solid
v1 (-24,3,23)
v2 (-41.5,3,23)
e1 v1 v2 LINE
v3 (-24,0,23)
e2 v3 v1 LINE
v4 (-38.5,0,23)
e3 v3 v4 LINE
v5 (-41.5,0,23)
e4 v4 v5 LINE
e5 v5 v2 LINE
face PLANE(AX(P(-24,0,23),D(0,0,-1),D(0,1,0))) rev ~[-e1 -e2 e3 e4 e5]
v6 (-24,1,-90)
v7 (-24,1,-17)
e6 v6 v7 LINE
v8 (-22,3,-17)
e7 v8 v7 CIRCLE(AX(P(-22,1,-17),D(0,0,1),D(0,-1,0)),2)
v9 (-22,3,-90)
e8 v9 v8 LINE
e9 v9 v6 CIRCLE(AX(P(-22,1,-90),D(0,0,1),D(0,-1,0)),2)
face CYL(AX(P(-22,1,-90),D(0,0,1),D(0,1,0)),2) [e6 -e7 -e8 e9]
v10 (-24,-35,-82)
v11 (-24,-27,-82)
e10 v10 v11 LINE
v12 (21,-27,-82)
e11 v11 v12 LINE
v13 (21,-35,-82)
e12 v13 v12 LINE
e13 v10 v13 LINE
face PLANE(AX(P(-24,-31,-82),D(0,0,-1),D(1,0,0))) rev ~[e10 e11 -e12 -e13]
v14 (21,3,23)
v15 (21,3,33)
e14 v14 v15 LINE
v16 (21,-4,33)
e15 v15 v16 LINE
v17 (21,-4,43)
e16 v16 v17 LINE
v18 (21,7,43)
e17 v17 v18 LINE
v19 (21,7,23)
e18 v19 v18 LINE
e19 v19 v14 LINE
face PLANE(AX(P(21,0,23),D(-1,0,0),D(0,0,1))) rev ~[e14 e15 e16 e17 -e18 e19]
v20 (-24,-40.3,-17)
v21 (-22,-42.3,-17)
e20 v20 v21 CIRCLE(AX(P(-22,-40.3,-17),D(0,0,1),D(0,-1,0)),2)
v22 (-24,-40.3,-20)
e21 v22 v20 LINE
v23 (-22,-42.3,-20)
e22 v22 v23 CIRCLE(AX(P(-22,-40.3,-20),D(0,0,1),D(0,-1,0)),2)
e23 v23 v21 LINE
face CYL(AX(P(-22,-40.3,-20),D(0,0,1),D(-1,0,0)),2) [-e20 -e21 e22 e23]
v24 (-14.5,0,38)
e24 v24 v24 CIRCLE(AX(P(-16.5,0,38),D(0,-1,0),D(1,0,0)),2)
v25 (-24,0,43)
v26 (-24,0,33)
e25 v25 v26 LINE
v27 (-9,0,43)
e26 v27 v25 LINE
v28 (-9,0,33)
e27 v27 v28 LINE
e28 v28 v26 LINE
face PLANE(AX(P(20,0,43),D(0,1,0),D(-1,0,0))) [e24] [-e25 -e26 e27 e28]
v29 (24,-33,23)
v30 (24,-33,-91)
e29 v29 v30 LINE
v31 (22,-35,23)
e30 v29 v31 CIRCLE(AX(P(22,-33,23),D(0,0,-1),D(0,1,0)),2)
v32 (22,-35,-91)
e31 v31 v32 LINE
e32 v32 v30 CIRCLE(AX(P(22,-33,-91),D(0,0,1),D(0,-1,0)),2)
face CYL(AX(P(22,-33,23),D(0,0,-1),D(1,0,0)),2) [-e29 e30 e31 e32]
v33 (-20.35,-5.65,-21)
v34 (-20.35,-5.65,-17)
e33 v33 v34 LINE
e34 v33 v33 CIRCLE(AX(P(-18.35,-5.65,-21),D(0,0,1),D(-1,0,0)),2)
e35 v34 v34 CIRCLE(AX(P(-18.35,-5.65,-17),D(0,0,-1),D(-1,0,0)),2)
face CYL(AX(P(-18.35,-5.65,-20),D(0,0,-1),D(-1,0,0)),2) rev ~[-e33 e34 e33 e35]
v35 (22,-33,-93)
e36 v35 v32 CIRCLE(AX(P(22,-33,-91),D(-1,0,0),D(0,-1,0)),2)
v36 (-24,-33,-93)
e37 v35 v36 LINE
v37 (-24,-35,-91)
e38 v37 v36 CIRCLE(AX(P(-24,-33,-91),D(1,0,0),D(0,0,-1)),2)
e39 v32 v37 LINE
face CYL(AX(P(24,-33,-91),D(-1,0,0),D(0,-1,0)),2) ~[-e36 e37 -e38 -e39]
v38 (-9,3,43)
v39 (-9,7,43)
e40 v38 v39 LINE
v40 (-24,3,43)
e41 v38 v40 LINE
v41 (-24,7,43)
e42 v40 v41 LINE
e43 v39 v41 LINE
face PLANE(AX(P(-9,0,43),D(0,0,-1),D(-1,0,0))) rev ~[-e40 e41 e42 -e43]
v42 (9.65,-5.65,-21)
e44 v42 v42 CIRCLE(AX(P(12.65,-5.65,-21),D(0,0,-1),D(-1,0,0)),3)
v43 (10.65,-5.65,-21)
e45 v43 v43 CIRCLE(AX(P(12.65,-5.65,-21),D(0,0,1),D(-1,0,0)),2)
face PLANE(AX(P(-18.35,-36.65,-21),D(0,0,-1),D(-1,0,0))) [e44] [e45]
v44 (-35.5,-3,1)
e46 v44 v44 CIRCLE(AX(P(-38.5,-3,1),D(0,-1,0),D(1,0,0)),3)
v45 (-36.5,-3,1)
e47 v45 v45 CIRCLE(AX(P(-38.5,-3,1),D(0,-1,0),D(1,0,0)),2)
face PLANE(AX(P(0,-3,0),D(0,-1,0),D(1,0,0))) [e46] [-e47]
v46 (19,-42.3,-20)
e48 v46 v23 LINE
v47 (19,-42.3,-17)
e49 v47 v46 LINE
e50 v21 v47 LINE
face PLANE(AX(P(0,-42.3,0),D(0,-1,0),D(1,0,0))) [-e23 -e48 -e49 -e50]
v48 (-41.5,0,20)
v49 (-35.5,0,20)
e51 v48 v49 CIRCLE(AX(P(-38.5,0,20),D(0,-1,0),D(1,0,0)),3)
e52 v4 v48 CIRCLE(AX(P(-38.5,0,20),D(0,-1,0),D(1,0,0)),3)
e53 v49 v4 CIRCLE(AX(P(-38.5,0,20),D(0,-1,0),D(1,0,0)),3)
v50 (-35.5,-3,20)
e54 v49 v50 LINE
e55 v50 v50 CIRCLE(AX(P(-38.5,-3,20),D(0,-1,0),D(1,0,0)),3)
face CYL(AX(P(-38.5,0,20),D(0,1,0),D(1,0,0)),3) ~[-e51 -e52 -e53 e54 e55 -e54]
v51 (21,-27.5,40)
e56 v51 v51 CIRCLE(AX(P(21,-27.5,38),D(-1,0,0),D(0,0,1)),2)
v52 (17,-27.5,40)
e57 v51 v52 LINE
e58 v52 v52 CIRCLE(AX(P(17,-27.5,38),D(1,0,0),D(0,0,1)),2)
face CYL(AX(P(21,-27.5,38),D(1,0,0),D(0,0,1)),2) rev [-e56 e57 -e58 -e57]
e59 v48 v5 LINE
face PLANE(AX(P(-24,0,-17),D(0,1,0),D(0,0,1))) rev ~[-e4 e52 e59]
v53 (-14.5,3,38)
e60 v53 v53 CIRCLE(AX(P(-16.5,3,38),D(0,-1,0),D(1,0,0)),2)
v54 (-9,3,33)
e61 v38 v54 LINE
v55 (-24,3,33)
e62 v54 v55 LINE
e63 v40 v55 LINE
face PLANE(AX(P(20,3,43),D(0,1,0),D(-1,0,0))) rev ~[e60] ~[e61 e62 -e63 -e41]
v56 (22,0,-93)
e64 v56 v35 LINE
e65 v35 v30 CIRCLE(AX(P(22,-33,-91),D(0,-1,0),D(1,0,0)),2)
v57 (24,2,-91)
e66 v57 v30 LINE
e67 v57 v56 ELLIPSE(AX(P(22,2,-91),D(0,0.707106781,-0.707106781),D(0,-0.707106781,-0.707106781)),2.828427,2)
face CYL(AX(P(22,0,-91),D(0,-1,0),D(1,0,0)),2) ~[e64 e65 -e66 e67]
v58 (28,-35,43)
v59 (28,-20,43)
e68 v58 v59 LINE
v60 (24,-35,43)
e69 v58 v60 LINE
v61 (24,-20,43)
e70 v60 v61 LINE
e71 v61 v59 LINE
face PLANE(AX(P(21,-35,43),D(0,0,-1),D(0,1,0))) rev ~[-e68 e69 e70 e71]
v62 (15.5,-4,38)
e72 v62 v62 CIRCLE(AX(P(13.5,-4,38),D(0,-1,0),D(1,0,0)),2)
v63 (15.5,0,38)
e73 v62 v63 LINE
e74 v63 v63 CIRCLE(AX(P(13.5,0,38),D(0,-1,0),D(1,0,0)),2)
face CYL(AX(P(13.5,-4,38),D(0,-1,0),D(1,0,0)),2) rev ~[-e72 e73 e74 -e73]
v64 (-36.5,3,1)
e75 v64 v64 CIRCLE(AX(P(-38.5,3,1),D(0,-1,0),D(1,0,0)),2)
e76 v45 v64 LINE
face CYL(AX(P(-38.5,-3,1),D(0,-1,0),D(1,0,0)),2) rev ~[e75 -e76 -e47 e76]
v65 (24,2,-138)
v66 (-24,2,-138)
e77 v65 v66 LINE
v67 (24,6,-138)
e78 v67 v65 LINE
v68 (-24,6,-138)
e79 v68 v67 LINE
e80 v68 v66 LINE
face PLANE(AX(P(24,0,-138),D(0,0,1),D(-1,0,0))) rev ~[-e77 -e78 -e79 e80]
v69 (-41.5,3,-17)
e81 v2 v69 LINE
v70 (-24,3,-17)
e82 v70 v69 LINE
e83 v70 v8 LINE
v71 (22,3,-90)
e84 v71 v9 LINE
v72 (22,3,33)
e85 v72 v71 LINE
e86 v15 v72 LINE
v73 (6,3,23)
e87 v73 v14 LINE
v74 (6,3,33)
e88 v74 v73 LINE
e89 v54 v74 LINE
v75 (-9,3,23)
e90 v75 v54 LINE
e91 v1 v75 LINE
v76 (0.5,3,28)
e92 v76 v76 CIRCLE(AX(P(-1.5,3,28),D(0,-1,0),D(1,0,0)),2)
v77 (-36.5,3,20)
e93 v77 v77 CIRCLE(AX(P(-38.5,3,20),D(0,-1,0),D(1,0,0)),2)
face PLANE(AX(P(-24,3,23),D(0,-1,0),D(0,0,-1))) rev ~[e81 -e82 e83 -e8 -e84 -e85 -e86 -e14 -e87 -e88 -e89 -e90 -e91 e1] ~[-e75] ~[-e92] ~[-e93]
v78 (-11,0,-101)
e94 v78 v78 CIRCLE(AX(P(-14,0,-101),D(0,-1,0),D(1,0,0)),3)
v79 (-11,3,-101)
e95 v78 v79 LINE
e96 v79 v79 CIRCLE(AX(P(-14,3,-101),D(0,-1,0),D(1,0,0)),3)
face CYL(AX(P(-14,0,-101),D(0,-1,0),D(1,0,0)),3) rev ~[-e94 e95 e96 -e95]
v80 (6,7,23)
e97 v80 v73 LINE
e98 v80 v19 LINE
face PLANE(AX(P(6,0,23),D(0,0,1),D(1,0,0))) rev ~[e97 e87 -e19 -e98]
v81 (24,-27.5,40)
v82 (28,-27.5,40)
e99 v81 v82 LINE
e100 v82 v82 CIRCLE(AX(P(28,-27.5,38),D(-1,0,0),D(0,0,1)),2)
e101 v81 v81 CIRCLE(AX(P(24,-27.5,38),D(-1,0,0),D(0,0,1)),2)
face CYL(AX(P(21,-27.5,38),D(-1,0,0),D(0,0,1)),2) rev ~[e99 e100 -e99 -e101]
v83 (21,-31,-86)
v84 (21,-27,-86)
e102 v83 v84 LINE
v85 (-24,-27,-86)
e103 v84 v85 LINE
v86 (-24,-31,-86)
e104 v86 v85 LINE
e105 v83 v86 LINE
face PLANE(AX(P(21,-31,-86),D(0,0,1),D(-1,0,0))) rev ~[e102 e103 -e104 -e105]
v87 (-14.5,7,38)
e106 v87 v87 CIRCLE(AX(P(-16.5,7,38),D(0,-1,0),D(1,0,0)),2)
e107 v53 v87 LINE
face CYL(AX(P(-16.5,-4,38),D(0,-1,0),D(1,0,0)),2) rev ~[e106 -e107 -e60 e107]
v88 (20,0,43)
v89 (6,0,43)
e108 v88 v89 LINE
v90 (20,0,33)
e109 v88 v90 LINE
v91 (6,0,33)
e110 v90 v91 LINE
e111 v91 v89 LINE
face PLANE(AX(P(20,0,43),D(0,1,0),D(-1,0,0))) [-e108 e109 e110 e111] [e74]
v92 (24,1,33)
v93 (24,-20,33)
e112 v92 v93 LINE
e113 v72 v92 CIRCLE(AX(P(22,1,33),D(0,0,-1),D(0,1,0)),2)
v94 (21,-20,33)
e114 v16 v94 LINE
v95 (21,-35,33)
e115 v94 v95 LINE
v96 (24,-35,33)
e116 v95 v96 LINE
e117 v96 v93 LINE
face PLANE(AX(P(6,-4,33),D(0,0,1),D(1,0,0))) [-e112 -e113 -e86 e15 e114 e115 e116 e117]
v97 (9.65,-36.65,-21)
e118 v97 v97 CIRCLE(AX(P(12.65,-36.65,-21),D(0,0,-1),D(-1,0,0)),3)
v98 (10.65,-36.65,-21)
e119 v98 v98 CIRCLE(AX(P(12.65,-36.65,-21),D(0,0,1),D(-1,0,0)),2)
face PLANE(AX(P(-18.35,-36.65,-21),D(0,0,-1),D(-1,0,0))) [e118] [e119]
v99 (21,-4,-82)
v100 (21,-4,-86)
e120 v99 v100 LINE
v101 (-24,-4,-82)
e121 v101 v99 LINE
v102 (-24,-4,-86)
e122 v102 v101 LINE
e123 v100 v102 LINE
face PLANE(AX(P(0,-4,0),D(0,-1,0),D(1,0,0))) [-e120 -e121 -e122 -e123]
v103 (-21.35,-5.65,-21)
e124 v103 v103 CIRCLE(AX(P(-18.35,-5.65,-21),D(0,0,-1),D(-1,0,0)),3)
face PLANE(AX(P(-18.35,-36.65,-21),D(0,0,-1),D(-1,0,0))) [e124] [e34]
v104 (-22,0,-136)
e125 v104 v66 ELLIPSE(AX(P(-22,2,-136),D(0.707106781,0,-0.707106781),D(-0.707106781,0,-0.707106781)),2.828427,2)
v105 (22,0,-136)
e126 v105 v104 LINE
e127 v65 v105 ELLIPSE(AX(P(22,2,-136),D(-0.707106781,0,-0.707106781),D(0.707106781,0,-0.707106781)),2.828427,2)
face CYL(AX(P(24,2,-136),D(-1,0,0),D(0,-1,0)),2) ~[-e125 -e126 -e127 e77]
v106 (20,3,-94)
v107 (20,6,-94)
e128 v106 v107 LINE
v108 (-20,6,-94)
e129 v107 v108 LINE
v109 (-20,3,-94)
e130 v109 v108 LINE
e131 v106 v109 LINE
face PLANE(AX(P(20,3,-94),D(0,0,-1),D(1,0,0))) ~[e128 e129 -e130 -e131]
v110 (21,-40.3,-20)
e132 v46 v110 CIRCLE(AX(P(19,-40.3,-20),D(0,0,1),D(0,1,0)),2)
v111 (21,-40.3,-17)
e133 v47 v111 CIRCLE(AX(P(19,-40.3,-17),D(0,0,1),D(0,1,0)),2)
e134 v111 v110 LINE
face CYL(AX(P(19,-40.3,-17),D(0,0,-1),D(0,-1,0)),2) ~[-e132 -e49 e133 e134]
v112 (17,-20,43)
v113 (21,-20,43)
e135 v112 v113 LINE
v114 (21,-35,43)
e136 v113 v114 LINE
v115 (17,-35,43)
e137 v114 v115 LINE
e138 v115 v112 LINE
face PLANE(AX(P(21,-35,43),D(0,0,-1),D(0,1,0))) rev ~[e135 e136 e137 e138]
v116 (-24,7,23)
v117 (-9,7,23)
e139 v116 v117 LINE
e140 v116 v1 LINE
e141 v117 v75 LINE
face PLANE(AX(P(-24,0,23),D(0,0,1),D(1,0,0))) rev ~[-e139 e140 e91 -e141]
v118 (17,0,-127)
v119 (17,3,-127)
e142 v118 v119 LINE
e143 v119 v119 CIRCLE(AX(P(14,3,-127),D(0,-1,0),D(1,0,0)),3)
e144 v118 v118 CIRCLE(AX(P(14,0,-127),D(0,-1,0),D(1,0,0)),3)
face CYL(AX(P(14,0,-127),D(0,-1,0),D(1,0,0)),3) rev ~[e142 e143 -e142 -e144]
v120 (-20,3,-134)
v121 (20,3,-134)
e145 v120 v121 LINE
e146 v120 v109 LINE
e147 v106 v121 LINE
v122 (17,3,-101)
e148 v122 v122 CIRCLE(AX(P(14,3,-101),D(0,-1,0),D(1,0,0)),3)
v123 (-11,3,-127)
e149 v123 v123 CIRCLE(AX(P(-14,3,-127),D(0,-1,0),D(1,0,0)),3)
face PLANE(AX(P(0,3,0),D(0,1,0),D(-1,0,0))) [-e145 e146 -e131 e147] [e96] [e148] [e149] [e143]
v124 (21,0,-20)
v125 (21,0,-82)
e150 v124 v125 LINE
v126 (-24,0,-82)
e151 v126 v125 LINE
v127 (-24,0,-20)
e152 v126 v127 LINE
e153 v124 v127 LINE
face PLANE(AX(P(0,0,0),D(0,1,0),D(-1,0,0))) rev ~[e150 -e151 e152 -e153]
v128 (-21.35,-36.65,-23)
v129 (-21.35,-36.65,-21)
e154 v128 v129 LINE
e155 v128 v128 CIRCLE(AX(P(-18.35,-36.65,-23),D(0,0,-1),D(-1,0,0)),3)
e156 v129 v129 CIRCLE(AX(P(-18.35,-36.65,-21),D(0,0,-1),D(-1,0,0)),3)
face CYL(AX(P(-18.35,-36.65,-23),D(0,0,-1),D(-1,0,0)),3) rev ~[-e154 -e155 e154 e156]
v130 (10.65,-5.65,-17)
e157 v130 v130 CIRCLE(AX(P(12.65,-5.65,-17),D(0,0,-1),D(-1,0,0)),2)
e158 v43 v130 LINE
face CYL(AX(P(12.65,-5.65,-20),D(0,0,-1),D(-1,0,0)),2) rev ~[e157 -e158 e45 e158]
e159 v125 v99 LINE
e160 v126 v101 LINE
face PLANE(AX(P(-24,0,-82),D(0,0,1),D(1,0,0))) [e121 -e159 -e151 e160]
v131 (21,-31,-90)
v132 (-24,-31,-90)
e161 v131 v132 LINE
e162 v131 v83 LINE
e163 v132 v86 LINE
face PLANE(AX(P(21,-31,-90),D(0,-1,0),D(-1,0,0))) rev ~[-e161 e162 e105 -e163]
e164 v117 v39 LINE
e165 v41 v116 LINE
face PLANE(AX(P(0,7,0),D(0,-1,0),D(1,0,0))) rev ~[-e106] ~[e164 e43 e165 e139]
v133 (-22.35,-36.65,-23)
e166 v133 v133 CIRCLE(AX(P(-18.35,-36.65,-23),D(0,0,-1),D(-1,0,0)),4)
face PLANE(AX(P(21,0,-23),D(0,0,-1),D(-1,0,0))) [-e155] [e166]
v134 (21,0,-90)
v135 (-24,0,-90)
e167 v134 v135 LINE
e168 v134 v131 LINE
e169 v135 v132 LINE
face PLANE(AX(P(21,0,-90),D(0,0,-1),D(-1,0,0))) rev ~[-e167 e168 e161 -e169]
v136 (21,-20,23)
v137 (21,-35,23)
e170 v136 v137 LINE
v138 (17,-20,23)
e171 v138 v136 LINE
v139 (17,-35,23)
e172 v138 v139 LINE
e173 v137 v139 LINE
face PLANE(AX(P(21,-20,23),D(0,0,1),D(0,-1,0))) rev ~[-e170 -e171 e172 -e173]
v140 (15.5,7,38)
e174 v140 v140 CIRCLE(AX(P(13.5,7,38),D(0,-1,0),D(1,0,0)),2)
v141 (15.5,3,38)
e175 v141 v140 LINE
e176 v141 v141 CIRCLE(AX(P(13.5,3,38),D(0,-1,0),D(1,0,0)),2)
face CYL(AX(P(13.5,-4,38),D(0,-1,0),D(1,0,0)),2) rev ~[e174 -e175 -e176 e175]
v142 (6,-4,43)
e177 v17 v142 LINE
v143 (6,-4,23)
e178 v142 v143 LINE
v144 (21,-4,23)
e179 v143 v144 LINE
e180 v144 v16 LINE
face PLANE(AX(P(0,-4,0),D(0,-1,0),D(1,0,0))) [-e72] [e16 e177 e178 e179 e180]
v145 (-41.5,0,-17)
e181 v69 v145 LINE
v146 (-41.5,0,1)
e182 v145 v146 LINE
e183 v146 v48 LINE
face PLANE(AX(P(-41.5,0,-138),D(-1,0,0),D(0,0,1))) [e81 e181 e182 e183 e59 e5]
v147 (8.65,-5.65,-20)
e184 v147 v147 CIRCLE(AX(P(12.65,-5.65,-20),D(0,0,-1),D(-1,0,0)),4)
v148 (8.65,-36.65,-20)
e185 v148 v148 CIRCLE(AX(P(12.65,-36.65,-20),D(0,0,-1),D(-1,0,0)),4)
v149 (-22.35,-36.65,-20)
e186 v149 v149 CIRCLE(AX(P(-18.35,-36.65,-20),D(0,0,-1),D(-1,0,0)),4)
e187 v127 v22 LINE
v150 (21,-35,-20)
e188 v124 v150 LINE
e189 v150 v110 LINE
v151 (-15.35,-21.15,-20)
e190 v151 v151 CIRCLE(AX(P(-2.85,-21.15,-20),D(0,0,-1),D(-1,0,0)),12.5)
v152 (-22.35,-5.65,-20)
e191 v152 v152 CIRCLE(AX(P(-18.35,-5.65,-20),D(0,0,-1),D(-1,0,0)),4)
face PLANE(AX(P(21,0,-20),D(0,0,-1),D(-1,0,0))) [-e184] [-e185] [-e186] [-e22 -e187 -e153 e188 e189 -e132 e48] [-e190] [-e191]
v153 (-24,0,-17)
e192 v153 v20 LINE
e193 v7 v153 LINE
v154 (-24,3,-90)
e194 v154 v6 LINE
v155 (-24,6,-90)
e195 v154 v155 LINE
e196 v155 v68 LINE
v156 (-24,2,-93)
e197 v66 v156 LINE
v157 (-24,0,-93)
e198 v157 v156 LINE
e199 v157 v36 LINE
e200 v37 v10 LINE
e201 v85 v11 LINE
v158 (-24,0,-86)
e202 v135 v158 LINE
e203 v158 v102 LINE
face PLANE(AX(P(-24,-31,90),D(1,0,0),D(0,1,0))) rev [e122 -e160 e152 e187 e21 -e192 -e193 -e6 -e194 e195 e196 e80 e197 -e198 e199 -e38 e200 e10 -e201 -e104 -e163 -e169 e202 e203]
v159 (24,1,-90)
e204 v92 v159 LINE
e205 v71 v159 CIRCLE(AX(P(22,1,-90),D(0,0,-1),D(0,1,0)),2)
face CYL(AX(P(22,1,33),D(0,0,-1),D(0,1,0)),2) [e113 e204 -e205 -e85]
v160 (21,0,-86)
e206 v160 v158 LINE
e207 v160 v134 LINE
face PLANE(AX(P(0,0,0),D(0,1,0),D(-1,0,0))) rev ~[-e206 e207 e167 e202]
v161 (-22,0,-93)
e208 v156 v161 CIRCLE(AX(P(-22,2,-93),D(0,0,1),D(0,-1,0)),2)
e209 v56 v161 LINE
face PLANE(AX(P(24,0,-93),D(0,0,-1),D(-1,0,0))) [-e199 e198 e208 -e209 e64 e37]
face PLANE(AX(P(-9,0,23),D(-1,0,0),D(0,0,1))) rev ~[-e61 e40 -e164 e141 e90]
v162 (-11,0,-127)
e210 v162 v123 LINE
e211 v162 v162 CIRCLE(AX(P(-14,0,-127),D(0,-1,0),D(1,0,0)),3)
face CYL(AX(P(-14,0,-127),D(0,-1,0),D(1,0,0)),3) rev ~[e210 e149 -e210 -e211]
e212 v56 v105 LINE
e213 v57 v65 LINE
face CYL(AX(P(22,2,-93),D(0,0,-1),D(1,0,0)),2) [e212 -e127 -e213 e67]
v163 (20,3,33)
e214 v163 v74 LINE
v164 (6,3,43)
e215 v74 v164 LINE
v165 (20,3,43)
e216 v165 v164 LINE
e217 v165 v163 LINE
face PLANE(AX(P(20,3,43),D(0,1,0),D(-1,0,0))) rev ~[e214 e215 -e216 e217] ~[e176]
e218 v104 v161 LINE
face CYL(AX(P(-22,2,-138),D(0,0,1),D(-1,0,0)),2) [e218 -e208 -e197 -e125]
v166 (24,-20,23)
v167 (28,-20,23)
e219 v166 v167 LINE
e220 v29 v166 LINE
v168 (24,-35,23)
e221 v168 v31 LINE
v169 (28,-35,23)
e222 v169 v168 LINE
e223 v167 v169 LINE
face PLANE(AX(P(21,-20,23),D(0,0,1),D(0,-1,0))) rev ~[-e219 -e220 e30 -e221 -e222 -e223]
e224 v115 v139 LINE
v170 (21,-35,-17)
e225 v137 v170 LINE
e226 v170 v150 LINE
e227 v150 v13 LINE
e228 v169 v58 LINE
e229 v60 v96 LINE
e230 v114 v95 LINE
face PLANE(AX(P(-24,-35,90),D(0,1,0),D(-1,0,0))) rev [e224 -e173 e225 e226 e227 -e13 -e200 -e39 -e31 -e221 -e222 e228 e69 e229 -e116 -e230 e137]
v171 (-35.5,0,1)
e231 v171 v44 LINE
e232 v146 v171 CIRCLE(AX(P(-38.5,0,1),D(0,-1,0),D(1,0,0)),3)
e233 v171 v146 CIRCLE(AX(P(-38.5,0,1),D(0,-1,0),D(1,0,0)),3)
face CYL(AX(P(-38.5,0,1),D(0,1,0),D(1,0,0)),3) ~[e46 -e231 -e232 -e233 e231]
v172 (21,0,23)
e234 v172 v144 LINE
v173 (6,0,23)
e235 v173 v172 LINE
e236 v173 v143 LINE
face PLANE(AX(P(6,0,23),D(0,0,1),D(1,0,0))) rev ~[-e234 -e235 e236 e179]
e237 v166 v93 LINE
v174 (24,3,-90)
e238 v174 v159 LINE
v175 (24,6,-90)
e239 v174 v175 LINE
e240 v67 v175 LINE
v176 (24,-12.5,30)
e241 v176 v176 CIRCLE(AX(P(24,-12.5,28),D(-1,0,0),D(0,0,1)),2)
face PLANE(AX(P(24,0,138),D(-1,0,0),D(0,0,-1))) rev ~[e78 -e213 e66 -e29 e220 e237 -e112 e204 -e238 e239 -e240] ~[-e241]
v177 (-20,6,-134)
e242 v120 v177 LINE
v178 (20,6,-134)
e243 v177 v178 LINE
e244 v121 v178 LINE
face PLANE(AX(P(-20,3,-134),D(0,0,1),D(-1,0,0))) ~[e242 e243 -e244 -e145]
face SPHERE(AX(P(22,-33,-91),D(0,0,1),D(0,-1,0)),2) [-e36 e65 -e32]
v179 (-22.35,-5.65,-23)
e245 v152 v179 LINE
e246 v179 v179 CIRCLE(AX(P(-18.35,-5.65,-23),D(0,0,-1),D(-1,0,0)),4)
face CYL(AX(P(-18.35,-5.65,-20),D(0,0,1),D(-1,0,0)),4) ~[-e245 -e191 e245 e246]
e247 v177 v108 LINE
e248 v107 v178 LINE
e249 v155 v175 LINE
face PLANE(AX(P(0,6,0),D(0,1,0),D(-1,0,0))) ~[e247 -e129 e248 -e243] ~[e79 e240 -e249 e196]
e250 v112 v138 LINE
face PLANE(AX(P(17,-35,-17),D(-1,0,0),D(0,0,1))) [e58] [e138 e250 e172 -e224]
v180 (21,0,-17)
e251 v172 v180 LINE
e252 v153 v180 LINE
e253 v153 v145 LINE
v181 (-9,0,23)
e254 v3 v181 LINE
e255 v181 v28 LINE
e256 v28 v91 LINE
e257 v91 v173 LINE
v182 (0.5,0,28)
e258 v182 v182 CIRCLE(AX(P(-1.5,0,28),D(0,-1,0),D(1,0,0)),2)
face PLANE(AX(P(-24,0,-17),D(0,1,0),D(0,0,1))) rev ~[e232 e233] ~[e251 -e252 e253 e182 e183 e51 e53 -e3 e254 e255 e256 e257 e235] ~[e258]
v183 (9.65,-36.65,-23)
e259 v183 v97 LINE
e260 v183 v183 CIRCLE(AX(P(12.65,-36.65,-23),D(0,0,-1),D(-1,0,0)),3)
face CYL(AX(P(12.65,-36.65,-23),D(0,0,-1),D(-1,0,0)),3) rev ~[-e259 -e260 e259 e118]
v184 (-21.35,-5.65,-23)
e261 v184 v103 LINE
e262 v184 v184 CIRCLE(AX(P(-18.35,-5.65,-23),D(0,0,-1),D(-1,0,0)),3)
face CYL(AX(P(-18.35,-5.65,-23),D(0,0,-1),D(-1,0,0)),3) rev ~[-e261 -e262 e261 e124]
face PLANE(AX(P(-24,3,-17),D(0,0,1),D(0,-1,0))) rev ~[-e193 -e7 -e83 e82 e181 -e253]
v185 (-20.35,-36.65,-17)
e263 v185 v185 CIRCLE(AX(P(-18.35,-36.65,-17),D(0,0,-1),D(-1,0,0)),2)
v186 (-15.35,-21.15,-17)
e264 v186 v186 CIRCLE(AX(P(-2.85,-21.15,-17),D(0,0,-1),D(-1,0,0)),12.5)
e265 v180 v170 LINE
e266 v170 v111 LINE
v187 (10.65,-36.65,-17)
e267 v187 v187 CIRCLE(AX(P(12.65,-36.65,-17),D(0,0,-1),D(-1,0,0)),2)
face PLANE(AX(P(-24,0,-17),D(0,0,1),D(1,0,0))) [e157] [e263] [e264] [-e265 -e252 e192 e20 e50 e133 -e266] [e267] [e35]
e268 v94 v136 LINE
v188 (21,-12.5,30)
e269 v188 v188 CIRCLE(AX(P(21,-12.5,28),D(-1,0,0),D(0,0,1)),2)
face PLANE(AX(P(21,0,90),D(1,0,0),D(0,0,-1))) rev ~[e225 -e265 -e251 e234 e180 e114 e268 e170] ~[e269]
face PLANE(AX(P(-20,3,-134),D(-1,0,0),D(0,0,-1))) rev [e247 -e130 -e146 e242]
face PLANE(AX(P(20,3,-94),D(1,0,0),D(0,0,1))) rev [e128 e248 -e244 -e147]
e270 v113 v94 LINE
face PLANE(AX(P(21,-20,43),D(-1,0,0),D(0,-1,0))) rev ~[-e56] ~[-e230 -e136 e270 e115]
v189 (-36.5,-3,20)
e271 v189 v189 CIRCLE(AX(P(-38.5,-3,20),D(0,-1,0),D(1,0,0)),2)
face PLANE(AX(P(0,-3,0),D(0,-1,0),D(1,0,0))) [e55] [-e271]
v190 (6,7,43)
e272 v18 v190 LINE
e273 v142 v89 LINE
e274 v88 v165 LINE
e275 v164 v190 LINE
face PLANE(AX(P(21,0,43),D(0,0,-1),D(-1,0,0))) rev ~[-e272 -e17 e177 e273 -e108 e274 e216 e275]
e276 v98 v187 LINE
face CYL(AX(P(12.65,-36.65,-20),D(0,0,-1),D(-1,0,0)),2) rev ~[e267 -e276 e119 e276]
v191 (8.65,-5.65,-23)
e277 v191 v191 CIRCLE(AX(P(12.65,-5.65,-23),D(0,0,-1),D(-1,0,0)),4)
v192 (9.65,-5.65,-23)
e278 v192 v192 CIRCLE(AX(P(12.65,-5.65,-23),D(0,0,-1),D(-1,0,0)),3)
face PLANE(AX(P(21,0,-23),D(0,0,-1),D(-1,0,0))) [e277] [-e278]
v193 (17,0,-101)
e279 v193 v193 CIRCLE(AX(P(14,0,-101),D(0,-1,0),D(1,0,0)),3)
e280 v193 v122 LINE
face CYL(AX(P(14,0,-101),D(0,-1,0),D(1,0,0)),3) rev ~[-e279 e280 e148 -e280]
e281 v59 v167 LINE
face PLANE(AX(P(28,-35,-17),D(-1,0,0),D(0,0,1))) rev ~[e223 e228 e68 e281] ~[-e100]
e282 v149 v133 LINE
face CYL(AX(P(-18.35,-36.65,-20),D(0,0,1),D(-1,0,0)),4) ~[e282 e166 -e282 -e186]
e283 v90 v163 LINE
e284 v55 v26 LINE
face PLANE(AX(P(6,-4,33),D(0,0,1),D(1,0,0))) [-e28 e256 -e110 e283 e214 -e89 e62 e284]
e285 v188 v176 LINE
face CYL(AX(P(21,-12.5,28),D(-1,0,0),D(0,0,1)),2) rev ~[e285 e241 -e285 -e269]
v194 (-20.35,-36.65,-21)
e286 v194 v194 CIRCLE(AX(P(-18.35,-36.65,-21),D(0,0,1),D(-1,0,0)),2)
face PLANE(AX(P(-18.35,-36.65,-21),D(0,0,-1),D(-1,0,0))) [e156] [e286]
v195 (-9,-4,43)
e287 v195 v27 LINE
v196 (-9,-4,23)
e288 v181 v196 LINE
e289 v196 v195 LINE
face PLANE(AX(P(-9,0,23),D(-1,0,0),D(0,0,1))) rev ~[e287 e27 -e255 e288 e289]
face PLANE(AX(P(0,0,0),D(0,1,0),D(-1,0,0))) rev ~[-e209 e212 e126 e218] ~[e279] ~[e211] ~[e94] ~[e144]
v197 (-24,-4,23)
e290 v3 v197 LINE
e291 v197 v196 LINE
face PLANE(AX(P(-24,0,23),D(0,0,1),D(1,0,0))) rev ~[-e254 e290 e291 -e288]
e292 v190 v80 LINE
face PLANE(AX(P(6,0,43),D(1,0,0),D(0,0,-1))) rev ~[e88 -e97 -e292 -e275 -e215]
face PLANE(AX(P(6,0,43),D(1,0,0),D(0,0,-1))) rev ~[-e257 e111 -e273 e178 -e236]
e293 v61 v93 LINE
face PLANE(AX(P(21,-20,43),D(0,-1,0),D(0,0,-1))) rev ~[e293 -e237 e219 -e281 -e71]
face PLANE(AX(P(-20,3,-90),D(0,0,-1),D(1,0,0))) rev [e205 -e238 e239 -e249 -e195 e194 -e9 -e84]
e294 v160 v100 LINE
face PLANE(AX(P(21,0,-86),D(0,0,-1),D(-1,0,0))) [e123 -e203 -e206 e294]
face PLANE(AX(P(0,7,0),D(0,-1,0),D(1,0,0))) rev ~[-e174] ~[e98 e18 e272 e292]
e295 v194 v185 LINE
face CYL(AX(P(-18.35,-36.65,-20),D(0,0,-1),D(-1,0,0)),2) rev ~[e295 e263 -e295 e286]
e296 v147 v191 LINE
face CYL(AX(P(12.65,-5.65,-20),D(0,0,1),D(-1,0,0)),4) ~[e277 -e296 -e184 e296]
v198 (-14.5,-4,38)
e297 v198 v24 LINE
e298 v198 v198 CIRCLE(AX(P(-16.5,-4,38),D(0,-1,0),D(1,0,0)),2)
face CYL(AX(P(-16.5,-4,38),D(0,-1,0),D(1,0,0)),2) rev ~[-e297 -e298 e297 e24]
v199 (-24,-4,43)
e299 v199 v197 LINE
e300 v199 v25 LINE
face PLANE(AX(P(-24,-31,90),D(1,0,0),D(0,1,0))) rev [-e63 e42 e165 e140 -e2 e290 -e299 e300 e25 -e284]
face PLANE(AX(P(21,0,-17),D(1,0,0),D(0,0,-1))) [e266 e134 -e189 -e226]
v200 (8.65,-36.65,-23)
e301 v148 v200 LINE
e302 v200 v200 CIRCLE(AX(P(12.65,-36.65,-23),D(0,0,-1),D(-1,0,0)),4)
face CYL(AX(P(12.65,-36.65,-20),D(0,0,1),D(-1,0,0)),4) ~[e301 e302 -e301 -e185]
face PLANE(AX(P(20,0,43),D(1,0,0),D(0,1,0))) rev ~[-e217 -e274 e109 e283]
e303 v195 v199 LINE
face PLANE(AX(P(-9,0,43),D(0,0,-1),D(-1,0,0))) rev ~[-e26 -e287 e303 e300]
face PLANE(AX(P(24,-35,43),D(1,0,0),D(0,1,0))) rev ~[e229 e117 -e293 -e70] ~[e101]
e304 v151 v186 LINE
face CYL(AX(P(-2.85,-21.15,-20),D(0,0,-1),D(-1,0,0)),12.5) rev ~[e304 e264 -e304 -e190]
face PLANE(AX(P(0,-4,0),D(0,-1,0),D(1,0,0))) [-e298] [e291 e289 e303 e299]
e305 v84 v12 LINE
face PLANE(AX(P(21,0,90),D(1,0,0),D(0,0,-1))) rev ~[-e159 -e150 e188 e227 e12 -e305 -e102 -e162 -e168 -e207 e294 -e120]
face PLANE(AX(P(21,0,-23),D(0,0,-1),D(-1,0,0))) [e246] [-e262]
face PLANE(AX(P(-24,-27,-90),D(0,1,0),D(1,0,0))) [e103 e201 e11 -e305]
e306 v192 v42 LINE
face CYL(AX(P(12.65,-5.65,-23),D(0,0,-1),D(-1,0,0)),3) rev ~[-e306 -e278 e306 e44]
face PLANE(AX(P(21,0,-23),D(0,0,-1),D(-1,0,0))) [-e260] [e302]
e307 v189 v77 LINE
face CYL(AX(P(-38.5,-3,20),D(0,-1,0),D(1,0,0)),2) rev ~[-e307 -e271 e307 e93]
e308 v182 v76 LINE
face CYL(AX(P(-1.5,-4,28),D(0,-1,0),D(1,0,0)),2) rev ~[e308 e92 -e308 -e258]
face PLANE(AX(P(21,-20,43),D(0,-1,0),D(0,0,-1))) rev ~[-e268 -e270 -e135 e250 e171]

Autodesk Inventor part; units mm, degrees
ref_plane "YZ Plane" through (0, 0, 0) normal (1, 0, 0) x (0, 1, 0)
ref_plane "XZ Plane" through (0, 0, 0) normal (0, 1, 0) x (-1, 0, 0)
ref_plane "XY Plane" through (0, 0, 0) normal (0, 0, 1) x (1, 0, 0)
sketch "Sketch1" plane through (0, 0, 0) normal (0, 1, 0) x (-1, 0, 0)
  line L0 (24, 138) -> (-24, 138)
  line L1 (-24, 138) -> (-24, -138)
  line L2 (-24, -138) -> (24, -138)
  line L3 (24, -138) -> (24, 138)
  point P0 (0, 0)
  dimension "d0" = 48
  dimension "d1" = 276
extrude "Extrusion1" add sketch "Sketch1" along normal blind 3
sketch "Sketch2" plane through (0, 3, 0) normal (0, 1, 0) x (1, 0, 0)
  line L0 (-24, 138) -> (-24, -138) projected
  line L1 (-24, -138) -> (-20, -138)
  line L2 (-20, -138) -> (-20, -90)
  line L3 (-20, -90) -> (-24, -90)
  line L4 (-24, -90) -> (-24, -138)
  line L5 (24, -138) -> (24, 138) projected
  line L6 (-20, -90) -> (24, -90)
  line L7 (24, -90) -> (24, -94)
  line L8 (24, -94) -> (-20, -94)
  line L9 (-20, -94) -> (-20, -90)
  line L10 (-24, -138) -> (24, -138) projected
  line L11 (24, -94) -> (20, -94)
  line L12 (20, -94) -> (20, -138)
  line L13 (20, -138) -> (24, -138)
  line L14 (24, -138) -> (24, -94)
  line L15 (20, -138) -> (-20, -138)
  line L16 (-20, -138) -> (-20, -134)
  line L17 (-20, -134) -> (20, -134)
  line L18 (20, -134) -> (20, -138)
  point P0 (0, 0)
  point P1 (20, -134)
  dimension "d4" = 4
  dimension "d5" = 48
  dimension "d6" = 4
  dimension "d7" = 4
  dimension "d8" = 4
extrude "Extrusion2" add sketch "Sketch2" along normal blind 3 contours L3 L2 L1 L0 | L6 L5 L8 L2 | L2 L17 L12 L10 | L12 L8 L5 L10
mirror "Mirror1" about plane through (0, 0, 0) normal (0, 0, 1) of "Extrusion2"
sketch "Sketch3" plane through (0, 0, 0) normal (0, -1, 0) x (1, 0, 0)
  line L0 (24, -90) -> (-24, -90) projected
  line L1 (24, 138) -> (24, -138) projected
  line L2 (-24, -90) -> (24, -90)
  line L3 (24, -90) -> (24, -93)
  line L4 (24, -93) -> (-24, -93)
  line L5 (-24, -93) -> (-24, -90)
  line L6 (-24, 90) -> (24, 90) projected
  line L7 (24, 90) -> (21, 90)
  line L8 (21, 90) -> (21, -90)
  line L9 (21, -90) -> (24, -90)
  line L10 (24, -90) -> (24, 90)
  line L11 (-24, 90) -> (24, 90)
  line L12 (24, 90) -> (24, 93)
  line L13 (24, 93) -> (-24, 93)
  line L14 (-24, 93) -> (-24, 90)
  point P0 (0, 0)
  dimension "d11" = 3
  dimension "d12" = 3
  dimension "d13" = 3
extrude "Extrusion3" add sketch "Sketch3" along normal blind 35
sketch "Sketch4" plane through (-24, 0, -90) normal (0, 0, 1) x (1, 0, 0)
  line L0 (0, -35) -> (45, -35) projected
  line L1 (45, 0) -> (45, -35) projected
  line L2 (0, -35) -> (45, -35)
  line L3 (45, -35) -> (45, -31)
  line L4 (45, -31) -> (0, -31)
  line L5 (0, -31) -> (0, -35)
  point P0 (24, 0)
  dimension "d16" = 4
extrude "Extrusion4" add sketch "Sketch4" along normal blind 8
sketch "Sketch5" plane through (-24, -31, -90) normal (0, 1, 0) x (1, 0, 0)
  line L0 (0, -8) -> (45, -8) projected
  line L1 (45, 0) -> (45, -8) projected
  line L2 (0, -8) -> (45, -8)
  line L3 (45, -8) -> (45, -4)
  line L4 (45, -4) -> (0, -4)
  line L5 (0, -4) -> (0, -8)
  point P0 (24, -90)
  dimension "d19" = 4
extrude "Extrusion5" add sketch "Sketch5" along normal blind 4
sketch "Sketch6" plane through (0, 0, 0) normal (0, -1, 0) x (1, 0, 0)
  line L0 (21, -86) -> (-24, -86) projected
  line L1 (-24, -82) -> (21, -82)
  line L2 (21, -82) -> (21, -86)
  line L3 (21, -86) -> (-24, -86)
  line L4 (-24, -86) -> (-24, -82)
  point P0 (0, 0)
  dimension "d22" = 4
extrude "Extrusion6" add sketch "Sketch6" along normal blind 4
mirror "Mirror2" about plane through (0, 0, 0) normal (0, 0, 1) of "Extrusion6", "Extrusion5", "Extrusion4"
sketch "Sketch7" plane through (0, 0, 0) normal (0, -1, 0) x (1, 0, 0)
  circle A0 centre (-14, -127) radius 3
  circle A1 centre (14, -127) radius 3
  circle A2 centre (14, -101) radius 3
  circle A3 centre (-14, -101) radius 3
  line L0 (-20, -94) -> (20, -94) projected
  line L1 (20, -94) -> (20, -134) projected
  line L2 (-20, -134) -> (-20, -94) projected
  point P0 (0, 0)
  dimension "d25" = 6
  dimension "d26" = 6
  dimension "d27" = 6
  dimension "d28" = 6
  dimension "d135" = 28
  dimension "d136" = 26
  dimension "d137" = 28
  dimension "d138" = 26
  dimension "d139" = 7
  dimension "d140" = 7
  dimension "d141" = 6
  dimension "d142" = 6
extrude "Extrusion7" cut sketch "Sketch7" against normal blind 4
mirror "Mirror3" about plane through (0, 0, 0) normal (0, 0, 1) of "Extrusion7"
sketch "Sketch8" plane through (0, 0, 0) normal (0, -1, 0) x (1, 0, 0)
  line L0 (21, 82) -> (21, -82) projected
  line L1 (-24, -82) -> (-24, 82) projected
  line L2 (21, -20) -> (-24, -20)
  line L3 (-24, -20) -> (-24, -17)
  line L4 (-24, -17) -> (21, -17)
  line L5 (21, -17) -> (21, -20)
  point P0 (0, 0)
  dimension "d31" = 3
extrude "Extrusion8" add sketch "Sketch8" along normal blind 42.3
sketch "Sketch9" plane through (21, 0, -20) normal (0, 0, -1) x (-1, 0, 0)
  circle A0 centre (39.35, -5.65) radius 4
  circle A1 centre (39.35, -36.65) radius 4
  circle A2 centre (8.35, -5.65) radius 4
  circle A3 centre (8.35, -36.65) radius 4
  point P0 (21, 0)
  dimension "d34" = 8
  dimension "d35" = 8
  dimension "d36" = 8
  dimension "d37" = 8
extrude "Extrusion9" add sketch "Sketch9" along normal blind 3
sketch "Sketch10" plane through (-18.35, -36.65, -23) normal (0, 0, -1) x (-1, 0, 0)
  circle A0 centre (0, 0) radius 3
  circle A1 centre (0, 31) radius 4 projected
  circle A2 centre (0, 31) radius 3
  circle A3 centre (-31, 0) radius 4 projected
  circle A4 centre (-31, 0) radius 3
  circle A5 centre (-31, 31) radius 4 projected
  circle A6 centre (-31, 31) radius 3
  point P0 (-18.35, 36.65)
  dimension "d40" = 6
  dimension "d41" = 6
  dimension "d42" = 6
  dimension "d43" = 6
extrude "Extrusion10" cut sketch "Sketch10" against normal blind 2 contours A0 | A2 | A4 | A6
sketch "Sketch11" plane through (21, 0, -20) normal (0, 0, -1) x (-1, 0, 0)
  circle A0 centre (23.85, -21.15) radius 12.5
  circle A1 centre (39.35, -36.65) radius 3 projected
  circle A2 centre (39.35, -36.65) radius 2
  circle A3 centre (8.35, -36.65) radius 3 projected
  circle A4 centre (8.35, -36.65) radius 2
  circle A5 centre (8.35, -5.65) radius 4 projected
  circle A6 centre (8.35, -5.65) radius 2
  circle A7 centre (39.35, -5.65) radius 4 projected
  circle A8 centre (39.35, -5.65) radius 2
  point P0 (21, 0)
  dimension "d46" = 25
  dimension "d47" = 4
  dimension "d48" = 4
  dimension "d49" = 4
  dimension "d50" = 4
extrude "Extrusion11" cut sketch "Sketch11" along normal mid plane 10 contours A0 | A2 | A4 | A6 | A8
sketch "Sketch20" plane through (0, 0, 0) normal (0, -1, 0) x (1, 0, 0)
  line L0 (-24, -90) -> (-24, 90) projected
  line L1 (-24, 138) -> (24, 138) projected
  line L2 (-24, 33) -> (24, 33)
  line L3 (24, 33) -> (24, 138)
  line L4 (24, 138) -> (-24, 138)
  line L5 (-24, 138) -> (-24, 33)
  point P0 (0, 0)
extrude "Extrusion20" cut sketch "Sketch20" along normal mid plane 100
sketch "Sketch21" plane through (0, 0, 0) normal (0, -1, 0) x (1, 0, 0)
  line L0 (-24, 23) -> (-9, 23)
  line L1 (-9, 23) -> (-9, 43)
  line L2 (-9, 43) -> (-24, 43)
  line L3 (-24, 43) -> (-24, 23)
  line L4 (6, 23) -> (21, 23)
  line L5 (21, 23) -> (21, 43)
  line L6 (21, 43) -> (6, 43)
  line L7 (6, 43) -> (6, 23)
  point P0 (0, 0)
  dimension "d86" = 15
  dimension "d87" = 20
  dimension "d88" = 15
  dimension "d89" = 20
extrude "Extrusion21" add sketch "Sketch21" along normal blind 4 and the other way blind 7
sketch "Sketch24" plane through (0, -4, 0) normal (0, -1, 0) x (1, 0, 0)
  circle A0 centre (-16.5, 38) radius 2
  circle A1 centre (13.5, 38) radius 2
  circle A2 centre (-1.5, 28) radius 2
  point P0 (0, 0)
  dimension "d102" = 4
  dimension "d103" = 4
  dimension "d104" = 4
extrude "Extrusion24" cut sketch "Sketch24" against normal blind 15
sketch "Sketch25" plane through (21, -35, -17) normal (-1, 0, 0) x (0, 0, 1)
  line L0 (-76, 0) -> (50, 0) projected
  line L1 (40, 0) -> (60, 0)
  line L2 (60, 0) -> (60, 15)
  line L3 (60, 15) -> (40, 15)
  line L4 (40, 15) -> (40, 0)
  point P0 (17, 35)
  point P1 (50, 0)
  dimension "d107" = 20
  dimension "d108" = 15
extrude "Extrusion25" add sketch "Sketch25" along normal blind 4 and the other way blind 7
sketch "Sketch26" plane through (6, -4, 43) normal (0, 0, 1) x (1, 0, 0)
  line L0 (18, 4) -> (-30, 4) projected
  line L1 (14, 7) -> (14, 10) projected
  line L2 (-30, 4) -> (14, 4)
  line L3 (14, 4) -> (14, 7)
  line L4 (14, 7) -> (-30, 7)
  line L5 (-30, 7) -> (-30, 4)
  line L6 (15, -31) -> (15, -38.3) projected
  line L7 (22, -16) -> (18, -16) projected
  line L8 (15, -31) -> (18, -31)
  line L9 (18, -31) -> (18, -16)
  line L10 (18, -16) -> (15, -16)
  line L11 (15, -16) -> (15, -31)
  point P0 (-6, 4)
extrude "Extrusion26" cut sketch "Sketch26" against normal blind 10
sketch "Sketch27" plane through (21, -35, -17) normal (-1, 0, 0) x (0, 0, 1)
  circle A0 centre (55, 7.5) radius 2
  circle A1 centre (45, 22.5) radius 2
  point P0 (17, 35)
  dimension "d117" = 4
  dimension "d118" = 4
extrude "Extrusion27" cut sketch "Sketch27" along normal mid plane 20
sketch "Sketch28" plane through (-24, 0, -138) normal (-1, 0, 0) x (0, 0, 1)
  line L0 (161, 3) -> (171, 3) projected
  line L1 (121, 0) -> (161, 0) projected
  line L2 (161, 3) -> (121, 3)
  line L3 (121, 3) -> (121, 0)
  line L4 (121, 0) -> (161, 0)
  line L5 (161, 0) -> (161, 3)
  point P0 (138, 0)
  dimension "d123" = 40
extrude "Extrusion28" add sketch "Sketch28" along normal blind 17.5
sketch "Sketch29" plane through (0, 0, 0) normal (0, -1, 0) x (1, 0, 0)
  circle A0 centre (-38.5, 20) radius 3
  circle A1 centre (-38.5, 1) radius 3
  point P0 (0, 0)
  dimension "d126" = 6
  dimension "d127" = 6
extrude "Extrusion29" add sketch "Sketch29" along normal blind 3
sketch "Sketch30" plane through (-38.5, -3, 20) normal (0, -1, 0) x (1, 0, 0)
  circle A0 centre (0, 0) radius 2
  circle A1 centre (0, -19) radius 3 projected
  circle A2 centre (0, -19) radius 2
  point P0 (38.5, -20)
  point P1 (-3, -19)
  dimension "d130" = 4
  dimension "d131" = 4
extrude "Extrusion30" cut sketch "Sketch30" against normal blind 10 contours A0 | A2
fillet "Fillet3" radius 2 10 edges at (24, -35, -35) (0, -35, -93) (21, -42.3, -18.5) (-24, -42.3, -18.5) (24, 0, -115.5) (0, 0, -138) (-24, 0, -115.5) (24, 3, -28.5) (-24, 3, -53.5) (24, -17.5, -93)
properties part number "carriageEndL"
